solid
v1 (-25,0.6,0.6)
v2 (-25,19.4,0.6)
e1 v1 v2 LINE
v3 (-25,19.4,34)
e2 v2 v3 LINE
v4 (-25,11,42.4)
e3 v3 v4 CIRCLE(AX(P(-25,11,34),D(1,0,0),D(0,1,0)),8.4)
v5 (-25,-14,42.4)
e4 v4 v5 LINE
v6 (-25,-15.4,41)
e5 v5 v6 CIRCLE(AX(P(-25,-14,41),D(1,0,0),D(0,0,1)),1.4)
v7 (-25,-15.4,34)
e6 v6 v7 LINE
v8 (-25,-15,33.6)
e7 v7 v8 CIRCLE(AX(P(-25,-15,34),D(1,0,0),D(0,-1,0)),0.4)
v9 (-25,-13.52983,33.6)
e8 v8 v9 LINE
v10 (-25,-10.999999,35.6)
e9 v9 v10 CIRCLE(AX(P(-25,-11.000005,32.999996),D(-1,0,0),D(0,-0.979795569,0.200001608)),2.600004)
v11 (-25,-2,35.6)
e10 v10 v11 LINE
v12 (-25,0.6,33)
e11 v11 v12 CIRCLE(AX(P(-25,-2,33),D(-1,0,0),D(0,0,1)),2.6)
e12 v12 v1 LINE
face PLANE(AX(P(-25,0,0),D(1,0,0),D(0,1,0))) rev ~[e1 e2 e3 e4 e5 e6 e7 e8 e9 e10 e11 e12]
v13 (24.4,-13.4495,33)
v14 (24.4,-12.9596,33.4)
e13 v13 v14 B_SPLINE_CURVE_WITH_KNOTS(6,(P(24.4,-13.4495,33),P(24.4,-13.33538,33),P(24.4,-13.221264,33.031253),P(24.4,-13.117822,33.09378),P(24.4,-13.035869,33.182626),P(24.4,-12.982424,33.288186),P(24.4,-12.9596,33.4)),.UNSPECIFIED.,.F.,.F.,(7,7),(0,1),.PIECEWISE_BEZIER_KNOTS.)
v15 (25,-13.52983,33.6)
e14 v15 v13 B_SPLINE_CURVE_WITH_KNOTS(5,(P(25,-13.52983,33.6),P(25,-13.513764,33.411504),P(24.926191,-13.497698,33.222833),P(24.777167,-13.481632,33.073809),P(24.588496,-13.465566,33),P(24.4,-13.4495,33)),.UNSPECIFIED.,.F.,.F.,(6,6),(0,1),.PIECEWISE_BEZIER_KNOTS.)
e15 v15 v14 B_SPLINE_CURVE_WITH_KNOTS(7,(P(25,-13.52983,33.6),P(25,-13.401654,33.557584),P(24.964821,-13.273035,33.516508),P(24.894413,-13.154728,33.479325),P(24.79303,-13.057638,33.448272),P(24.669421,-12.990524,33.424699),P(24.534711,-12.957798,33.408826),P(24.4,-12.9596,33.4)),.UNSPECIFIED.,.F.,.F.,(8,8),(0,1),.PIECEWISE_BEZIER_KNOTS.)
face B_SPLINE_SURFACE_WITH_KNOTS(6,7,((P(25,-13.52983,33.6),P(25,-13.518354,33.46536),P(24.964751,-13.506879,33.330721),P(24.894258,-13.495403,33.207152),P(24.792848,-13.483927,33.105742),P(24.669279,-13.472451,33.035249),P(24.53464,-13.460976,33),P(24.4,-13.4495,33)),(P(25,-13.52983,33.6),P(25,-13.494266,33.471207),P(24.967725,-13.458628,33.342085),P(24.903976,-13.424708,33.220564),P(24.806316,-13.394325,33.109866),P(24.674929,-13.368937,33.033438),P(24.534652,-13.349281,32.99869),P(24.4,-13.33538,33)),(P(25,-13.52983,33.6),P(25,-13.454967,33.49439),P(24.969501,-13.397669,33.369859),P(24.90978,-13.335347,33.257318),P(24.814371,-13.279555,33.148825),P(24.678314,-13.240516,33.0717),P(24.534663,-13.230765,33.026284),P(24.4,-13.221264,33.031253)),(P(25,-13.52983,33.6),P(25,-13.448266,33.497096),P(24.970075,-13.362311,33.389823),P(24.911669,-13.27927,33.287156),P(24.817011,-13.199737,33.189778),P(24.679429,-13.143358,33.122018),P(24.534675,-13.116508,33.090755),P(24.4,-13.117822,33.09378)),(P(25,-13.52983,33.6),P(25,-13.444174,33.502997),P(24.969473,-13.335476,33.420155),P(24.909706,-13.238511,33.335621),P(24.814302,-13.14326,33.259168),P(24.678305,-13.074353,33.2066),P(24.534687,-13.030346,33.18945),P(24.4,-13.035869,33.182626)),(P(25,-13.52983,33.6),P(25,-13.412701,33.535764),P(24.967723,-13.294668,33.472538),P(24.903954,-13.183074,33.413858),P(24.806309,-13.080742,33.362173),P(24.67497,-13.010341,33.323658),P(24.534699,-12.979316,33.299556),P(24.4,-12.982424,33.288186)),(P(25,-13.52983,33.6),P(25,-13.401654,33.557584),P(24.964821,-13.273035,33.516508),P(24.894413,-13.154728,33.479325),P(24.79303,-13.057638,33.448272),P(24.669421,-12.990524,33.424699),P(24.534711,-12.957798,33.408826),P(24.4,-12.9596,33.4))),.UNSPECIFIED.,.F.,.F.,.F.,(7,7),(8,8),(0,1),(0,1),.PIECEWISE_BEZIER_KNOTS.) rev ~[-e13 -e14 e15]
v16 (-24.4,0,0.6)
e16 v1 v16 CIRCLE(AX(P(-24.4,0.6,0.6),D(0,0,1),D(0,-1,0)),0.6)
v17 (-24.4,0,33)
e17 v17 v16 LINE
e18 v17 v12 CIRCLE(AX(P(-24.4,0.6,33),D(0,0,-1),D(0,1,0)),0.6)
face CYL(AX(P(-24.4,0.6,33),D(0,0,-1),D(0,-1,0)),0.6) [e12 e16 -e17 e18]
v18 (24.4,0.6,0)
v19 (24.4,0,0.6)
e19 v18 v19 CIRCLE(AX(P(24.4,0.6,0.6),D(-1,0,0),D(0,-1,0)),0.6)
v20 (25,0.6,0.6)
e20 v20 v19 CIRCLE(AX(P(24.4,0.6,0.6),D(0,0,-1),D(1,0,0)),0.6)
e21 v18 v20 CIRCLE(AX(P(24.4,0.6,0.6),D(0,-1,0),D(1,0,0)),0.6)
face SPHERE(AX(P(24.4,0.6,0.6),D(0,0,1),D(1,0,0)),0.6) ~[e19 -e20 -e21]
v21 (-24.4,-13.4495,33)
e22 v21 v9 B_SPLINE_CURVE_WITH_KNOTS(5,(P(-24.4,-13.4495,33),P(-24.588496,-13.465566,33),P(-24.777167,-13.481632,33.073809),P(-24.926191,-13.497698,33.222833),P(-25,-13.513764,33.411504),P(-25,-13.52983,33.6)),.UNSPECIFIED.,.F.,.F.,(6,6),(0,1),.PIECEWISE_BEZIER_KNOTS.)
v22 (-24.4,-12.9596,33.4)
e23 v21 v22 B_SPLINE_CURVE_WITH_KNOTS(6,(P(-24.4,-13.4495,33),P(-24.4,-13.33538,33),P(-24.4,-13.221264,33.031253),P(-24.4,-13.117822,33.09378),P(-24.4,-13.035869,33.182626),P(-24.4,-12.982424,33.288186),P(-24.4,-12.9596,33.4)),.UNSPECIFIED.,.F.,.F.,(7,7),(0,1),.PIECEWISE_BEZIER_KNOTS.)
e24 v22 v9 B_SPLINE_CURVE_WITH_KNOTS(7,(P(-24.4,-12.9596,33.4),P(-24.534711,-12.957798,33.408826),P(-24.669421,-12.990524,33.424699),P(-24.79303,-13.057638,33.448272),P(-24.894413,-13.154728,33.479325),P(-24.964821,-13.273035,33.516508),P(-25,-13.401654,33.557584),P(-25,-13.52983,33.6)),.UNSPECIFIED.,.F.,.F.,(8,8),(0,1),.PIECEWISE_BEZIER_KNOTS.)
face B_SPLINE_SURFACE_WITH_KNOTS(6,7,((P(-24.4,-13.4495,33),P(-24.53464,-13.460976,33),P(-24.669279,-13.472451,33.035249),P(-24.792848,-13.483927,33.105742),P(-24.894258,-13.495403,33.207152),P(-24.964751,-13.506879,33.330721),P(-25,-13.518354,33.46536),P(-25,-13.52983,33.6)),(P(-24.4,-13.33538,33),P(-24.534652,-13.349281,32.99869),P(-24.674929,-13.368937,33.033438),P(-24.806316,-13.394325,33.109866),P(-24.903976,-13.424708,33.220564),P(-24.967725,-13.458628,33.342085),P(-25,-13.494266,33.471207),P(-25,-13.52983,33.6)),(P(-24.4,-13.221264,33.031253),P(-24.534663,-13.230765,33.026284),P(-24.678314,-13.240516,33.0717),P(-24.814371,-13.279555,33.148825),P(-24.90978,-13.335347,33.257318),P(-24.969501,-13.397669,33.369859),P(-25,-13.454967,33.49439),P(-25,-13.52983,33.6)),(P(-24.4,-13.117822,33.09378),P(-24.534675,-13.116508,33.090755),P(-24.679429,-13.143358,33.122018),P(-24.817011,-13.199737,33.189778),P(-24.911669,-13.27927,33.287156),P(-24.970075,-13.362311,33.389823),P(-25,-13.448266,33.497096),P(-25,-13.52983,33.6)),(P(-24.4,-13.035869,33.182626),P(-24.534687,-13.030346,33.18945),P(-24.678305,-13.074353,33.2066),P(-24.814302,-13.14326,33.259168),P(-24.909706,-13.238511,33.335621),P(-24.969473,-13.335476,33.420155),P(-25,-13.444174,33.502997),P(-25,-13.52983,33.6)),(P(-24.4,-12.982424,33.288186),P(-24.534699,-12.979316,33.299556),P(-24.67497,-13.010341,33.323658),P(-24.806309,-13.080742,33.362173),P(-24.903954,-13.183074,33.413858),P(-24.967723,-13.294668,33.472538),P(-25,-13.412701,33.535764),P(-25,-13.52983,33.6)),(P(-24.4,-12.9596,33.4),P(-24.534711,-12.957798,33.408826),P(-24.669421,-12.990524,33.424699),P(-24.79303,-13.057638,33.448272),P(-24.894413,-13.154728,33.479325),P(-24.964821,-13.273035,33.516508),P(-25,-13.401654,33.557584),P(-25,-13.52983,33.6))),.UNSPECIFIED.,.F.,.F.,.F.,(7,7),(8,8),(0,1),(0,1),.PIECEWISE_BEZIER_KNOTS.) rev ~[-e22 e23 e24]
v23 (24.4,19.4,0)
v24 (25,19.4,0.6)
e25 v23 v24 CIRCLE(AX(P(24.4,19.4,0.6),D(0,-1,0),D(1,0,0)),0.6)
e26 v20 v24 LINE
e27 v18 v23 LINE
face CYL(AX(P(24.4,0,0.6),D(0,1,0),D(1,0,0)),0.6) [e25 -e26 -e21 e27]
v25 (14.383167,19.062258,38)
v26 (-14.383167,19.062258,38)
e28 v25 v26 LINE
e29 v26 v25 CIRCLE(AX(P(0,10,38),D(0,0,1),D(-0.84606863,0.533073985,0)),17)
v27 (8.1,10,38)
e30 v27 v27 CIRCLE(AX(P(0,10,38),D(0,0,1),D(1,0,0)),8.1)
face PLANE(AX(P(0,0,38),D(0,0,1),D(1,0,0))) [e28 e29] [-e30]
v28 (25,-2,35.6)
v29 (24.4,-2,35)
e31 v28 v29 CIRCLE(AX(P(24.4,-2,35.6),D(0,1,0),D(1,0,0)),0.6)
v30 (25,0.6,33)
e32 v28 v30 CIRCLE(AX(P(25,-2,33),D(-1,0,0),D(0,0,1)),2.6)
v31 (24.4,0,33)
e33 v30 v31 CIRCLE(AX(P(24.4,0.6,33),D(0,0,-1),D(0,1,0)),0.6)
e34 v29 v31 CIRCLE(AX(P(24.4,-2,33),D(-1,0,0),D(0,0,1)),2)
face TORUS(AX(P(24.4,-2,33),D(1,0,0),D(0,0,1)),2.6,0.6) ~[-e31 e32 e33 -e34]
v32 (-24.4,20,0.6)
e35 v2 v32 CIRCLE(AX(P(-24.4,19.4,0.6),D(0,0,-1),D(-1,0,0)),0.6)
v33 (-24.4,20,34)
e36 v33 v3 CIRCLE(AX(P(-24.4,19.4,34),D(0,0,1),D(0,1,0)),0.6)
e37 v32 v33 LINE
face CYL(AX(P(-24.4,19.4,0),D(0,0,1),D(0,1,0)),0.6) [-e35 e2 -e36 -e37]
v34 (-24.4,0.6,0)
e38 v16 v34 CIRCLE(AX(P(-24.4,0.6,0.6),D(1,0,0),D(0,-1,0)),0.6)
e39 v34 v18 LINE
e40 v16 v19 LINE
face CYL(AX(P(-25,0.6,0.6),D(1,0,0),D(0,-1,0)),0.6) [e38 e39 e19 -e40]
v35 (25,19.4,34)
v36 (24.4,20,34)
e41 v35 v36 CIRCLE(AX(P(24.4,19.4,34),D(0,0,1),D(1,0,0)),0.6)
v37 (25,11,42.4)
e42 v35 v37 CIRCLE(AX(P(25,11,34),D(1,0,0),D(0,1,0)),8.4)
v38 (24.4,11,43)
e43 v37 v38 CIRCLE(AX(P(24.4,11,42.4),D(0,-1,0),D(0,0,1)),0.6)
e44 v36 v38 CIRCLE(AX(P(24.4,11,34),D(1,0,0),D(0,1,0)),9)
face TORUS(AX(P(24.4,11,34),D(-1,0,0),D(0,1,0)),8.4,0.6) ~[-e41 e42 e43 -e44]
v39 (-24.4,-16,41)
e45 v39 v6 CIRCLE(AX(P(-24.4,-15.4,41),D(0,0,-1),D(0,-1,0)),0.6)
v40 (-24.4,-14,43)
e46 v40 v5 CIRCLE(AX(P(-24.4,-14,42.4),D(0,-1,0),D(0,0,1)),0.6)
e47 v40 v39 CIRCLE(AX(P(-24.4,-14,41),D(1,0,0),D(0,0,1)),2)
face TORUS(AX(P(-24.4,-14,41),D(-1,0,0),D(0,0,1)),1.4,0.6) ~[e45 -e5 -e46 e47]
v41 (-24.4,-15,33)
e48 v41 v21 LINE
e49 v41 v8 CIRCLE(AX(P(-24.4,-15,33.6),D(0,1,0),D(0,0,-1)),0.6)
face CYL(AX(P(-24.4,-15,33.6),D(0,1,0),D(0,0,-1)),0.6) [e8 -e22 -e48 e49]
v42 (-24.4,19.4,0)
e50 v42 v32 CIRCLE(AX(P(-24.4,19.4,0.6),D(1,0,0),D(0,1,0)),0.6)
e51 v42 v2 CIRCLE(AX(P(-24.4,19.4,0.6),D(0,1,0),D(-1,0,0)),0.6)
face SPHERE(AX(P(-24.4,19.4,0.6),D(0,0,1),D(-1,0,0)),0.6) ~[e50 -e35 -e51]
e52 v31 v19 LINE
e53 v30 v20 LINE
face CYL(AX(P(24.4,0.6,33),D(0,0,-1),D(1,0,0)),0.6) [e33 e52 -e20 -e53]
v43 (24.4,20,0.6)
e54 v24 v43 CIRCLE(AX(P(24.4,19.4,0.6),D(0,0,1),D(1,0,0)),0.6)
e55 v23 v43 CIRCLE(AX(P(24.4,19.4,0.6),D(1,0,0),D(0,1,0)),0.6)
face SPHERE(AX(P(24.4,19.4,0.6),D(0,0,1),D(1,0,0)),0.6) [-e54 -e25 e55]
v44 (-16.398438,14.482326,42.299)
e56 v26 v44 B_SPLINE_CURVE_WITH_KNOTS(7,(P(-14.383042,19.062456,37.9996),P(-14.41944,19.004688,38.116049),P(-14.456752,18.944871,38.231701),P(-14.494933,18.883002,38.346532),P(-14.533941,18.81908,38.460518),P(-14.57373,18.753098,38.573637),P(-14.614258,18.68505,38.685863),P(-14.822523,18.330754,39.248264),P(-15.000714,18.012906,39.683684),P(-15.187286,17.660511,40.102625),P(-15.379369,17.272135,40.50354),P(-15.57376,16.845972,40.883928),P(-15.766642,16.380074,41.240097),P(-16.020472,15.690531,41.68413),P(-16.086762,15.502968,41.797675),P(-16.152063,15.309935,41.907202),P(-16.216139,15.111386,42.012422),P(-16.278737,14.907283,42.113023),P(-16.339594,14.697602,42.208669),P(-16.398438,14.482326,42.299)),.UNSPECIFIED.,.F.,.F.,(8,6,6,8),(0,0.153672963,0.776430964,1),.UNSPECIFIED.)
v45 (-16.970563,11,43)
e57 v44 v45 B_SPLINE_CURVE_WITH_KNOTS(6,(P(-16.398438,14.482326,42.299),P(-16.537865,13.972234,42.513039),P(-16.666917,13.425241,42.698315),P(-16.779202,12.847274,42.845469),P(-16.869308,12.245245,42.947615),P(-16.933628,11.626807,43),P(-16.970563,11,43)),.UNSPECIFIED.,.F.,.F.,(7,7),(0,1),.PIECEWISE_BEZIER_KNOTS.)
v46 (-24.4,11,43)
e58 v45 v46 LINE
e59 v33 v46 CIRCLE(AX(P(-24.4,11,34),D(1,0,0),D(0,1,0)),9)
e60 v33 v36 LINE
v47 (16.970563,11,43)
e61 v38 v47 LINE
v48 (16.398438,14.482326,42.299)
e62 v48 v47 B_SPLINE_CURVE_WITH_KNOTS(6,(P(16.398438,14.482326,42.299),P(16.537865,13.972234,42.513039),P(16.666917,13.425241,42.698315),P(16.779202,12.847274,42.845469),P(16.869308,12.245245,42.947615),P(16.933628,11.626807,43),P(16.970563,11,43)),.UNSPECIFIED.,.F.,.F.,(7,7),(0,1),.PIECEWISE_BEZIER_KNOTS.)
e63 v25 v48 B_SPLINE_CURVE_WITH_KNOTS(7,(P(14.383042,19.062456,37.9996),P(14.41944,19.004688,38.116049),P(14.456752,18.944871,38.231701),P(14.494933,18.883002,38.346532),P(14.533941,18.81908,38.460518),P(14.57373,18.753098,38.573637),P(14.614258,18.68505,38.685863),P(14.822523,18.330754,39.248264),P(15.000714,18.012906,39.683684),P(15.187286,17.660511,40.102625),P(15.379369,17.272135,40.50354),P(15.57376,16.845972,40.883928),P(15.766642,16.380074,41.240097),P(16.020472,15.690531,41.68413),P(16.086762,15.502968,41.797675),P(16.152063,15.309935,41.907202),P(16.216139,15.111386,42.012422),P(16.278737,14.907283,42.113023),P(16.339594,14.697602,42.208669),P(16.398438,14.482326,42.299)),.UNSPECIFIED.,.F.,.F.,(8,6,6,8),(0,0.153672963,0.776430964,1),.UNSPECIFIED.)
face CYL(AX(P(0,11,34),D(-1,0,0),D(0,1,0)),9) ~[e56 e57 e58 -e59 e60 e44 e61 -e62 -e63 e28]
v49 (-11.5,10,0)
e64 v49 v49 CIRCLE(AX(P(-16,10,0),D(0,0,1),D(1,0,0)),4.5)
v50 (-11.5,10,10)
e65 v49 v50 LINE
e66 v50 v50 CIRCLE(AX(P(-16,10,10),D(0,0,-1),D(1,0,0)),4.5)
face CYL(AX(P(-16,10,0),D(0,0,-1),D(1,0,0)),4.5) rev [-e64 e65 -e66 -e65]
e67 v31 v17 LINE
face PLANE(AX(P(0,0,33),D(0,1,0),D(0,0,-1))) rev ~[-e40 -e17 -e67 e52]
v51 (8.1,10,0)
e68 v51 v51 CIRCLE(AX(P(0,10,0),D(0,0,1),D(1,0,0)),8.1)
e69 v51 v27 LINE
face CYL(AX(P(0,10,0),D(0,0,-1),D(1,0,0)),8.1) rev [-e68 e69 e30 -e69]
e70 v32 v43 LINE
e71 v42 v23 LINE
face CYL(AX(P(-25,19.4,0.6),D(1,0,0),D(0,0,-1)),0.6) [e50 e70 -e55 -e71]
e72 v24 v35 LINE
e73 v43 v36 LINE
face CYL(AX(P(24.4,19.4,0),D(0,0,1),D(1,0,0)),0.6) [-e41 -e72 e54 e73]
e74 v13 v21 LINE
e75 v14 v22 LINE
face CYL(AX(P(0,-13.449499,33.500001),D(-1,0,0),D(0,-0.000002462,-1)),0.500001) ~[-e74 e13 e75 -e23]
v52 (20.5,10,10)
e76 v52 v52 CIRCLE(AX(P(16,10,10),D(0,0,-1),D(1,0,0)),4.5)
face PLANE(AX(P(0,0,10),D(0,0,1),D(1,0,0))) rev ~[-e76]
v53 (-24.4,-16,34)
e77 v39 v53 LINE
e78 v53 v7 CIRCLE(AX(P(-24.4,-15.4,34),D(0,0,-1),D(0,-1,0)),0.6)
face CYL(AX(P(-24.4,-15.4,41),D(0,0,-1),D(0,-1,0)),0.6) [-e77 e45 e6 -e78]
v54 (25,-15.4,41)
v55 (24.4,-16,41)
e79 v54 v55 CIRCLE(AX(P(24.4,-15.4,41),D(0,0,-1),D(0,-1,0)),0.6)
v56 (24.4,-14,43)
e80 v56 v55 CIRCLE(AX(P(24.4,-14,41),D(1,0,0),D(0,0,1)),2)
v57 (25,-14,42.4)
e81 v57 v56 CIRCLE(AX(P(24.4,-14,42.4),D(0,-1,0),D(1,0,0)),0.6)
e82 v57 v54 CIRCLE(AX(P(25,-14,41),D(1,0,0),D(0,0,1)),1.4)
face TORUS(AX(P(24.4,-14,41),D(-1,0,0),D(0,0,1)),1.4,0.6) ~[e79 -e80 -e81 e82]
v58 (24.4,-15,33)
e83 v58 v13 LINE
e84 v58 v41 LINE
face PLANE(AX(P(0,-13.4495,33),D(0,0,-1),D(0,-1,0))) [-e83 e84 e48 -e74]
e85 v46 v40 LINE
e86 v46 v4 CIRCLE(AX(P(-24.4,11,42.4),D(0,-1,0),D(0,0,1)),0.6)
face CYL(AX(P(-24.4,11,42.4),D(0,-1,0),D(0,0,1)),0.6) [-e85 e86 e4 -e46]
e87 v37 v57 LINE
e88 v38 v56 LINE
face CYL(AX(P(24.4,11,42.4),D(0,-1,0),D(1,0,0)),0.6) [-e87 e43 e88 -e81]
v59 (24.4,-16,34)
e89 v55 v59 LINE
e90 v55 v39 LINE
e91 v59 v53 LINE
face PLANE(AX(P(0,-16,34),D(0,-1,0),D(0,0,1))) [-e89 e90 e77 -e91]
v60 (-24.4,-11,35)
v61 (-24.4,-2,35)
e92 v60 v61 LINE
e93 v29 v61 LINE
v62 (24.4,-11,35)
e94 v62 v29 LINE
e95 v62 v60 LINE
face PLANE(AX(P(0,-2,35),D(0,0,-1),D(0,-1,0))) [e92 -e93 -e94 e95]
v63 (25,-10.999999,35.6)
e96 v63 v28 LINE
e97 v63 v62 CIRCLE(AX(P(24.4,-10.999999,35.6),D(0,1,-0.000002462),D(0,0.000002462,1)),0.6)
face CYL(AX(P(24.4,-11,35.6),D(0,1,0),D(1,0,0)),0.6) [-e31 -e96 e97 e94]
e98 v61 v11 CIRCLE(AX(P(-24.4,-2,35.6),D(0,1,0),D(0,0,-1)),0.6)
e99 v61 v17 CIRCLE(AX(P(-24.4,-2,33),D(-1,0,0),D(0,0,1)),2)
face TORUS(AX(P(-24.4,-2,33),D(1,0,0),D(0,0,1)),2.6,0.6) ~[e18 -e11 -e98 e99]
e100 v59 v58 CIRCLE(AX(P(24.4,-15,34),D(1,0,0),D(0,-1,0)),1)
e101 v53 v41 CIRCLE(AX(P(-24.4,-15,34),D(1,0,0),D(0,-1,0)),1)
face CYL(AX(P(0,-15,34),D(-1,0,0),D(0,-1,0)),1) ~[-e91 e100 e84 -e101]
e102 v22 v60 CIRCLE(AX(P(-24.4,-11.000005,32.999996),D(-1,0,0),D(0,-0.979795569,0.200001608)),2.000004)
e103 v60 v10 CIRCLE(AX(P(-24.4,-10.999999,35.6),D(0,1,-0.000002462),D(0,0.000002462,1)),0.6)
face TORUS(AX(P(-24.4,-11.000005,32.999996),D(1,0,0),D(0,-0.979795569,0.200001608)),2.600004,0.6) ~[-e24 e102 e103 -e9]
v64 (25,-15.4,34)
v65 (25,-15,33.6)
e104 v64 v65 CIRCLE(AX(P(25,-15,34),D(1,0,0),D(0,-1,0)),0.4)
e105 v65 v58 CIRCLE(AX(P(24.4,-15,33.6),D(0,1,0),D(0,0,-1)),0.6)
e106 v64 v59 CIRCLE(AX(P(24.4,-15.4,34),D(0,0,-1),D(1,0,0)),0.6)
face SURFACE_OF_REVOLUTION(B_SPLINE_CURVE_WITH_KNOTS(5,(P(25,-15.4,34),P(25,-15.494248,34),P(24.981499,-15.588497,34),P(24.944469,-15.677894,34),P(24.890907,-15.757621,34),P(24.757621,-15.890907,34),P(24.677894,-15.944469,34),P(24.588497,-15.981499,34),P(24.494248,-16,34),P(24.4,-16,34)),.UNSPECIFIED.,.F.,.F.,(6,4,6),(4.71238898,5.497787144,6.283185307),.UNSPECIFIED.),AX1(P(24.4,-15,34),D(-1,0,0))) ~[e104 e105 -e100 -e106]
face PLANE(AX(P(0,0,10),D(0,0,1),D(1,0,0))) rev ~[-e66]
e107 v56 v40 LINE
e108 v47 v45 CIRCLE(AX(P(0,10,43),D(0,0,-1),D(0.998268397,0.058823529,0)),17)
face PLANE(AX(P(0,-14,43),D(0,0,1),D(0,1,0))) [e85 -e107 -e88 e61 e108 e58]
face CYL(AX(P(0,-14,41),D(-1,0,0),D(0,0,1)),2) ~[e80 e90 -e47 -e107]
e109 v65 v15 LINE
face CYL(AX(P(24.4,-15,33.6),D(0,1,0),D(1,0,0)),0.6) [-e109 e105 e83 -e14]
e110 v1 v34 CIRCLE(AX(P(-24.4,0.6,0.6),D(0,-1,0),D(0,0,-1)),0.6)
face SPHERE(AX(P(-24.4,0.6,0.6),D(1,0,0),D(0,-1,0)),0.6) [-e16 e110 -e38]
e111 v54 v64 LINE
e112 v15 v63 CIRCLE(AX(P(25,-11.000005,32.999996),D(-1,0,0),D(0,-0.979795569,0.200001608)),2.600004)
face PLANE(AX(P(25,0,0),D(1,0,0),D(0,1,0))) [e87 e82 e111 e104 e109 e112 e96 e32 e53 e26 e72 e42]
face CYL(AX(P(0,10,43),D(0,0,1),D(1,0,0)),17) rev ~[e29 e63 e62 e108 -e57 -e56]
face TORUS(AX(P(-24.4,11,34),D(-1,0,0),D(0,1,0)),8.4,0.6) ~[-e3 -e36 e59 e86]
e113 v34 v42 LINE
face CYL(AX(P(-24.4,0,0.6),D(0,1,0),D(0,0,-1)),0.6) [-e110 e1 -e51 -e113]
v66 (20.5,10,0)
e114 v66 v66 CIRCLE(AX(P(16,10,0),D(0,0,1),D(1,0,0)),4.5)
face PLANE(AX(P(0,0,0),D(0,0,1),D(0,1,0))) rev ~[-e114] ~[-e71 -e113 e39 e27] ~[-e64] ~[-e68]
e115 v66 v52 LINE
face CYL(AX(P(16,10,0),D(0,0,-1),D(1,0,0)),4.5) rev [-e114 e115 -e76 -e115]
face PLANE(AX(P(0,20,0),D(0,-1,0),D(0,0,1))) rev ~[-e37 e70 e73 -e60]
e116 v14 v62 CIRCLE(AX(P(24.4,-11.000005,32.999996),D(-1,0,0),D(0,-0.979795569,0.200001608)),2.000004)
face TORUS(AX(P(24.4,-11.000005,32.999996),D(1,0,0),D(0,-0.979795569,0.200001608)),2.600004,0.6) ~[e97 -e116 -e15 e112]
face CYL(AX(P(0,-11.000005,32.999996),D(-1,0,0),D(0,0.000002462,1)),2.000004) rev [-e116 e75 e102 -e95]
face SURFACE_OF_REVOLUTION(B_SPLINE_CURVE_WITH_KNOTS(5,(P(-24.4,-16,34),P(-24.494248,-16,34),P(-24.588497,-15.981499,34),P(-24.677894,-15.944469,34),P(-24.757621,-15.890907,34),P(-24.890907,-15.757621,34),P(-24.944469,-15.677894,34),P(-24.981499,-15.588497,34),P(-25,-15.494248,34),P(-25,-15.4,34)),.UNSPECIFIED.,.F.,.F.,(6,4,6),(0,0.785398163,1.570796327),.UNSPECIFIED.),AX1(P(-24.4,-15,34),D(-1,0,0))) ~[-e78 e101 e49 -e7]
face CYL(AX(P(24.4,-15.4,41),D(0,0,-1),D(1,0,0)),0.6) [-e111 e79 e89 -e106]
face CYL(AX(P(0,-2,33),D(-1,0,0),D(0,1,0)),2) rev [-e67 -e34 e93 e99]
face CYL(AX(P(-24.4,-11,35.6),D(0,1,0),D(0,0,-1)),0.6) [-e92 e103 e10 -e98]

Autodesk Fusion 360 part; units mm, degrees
sketch "PhoneSupportTop" plane through (0, 0, 0) normal (1, 0, 0) x (0, 1, 0)
  line L0 (0, 0) -> (20, 0)
  line L1 (0, 33) -> (0, 0)
  line L2 (-2, 35) -> (-11, 35)
  line L3 (-13.4495, 33) -> (-15, 33)
  line L4 (-16, 34) -> (-16, 41)
  arc A0 (-11, 35) -> (-12.9596, 33.4) centre (-11, 33) ccw
  arc A1 (0, 33) -> (-2, 35) centre (-2, 33) ccw
  line L5 (-14, 43) -> (11, 43)
  line L6 (20, 0) -> (20, 34)
  arc A2 (20, 34) -> (11, 43) centre (11, 34) ccw
  arc A3 (-14, 43) -> (-16, 41) centre (-14, 41) ccw
  arc A4 (-13.4495, 33) -> (-12.9596, 33.4) centre (-13.4495, 33.5) ccw
  arc A5 (-16, 34) -> (-15, 33) centre (-15, 34) ccw
  point P0 (-13, 33)
  point P1 (-16, 33)
  point P2 (-16, 43)
  dimension "d3" = 20
  dimension "d7" = 4
  dimension "d8" = 3
  dimension "d10" = 2
  dimension "d11" = 9
  dimension "d13" = 34
  dimension "d14" = 27
  dimension "d15" = 10
  dimension "d16" = 9
  dimension "d17" = 2
  dimension "d18" = 0.5
  dimension "d19" = 1
extrude "Extrude1" add sketch "PhoneSupportTop" along normal mid plane 50
sketch "Sketch2" plane through (0, 0, 0) normal (0, 0, 1) x (1, 0, 0)
  line L0 (25, 20) -> (-25, 20) construction
  line L1 (-25, 20) -> (-25, 0) construction
  line L2 (-25, 0) -> (25, 0) construction
  line L3 (25, 0) -> (25, 20) construction
  line L4 (25, 10) -> (-25, 10) construction
  circle A0 centre (0, 10) radius 8.1
  circle A1 centre (16, 10) radius 4.5
  circle A2 centre (-16, 10) radius 4.5
  circle A3 centre (0, 10) radius 17
  dimension "d23" = 16.2
  dimension "d24" = 9
  dimension "d25" = 9
  dimension "d27" = 9
  dimension "d28" = 9
  dimension "d40" = 34
extrude "Extrude2" cut sketch "Sketch2" along normal blind 10 contours A1 A3 | A1 A3 | A2 A3 | A2 A3
extrude "Extrude3" cut sketch "Sketch2" along normal through all contours A0
extrude "Extrude4" cut sketch "Sketch2" against normal blind 5 from surface at 43 contours A1 A2 A3
fillet "Fillet1" radius 0.6 28 edges at (25, 20, 17) (25, 17.364, 40.364) (25, -1.5, 43) (25, -15.4142, 42.4142) (25, -16, 37.5) (25, -15.7071, 33.2929) (25, -14.2247, 33) (25, -13.1333, 33.1127) (25, -12.2649, 34.5492) (25, -6.5, 35) (25, -0.5858, 34.4142) (25, 0, 16.5) (25, 10, 0) (0, 0, 0) (-25, 0, 16.5) (-25, -0.5858, 34.4142) (-25, -6.5, 35) (-25, -12.2649, 34.5492) (-25, -13.1333, 33.1127) (-25, -14.2247, 33) (-25, -15.7071, 33.2929) (-25, -16, 37.5) (-25, -15.4142, 42.4142) (-25, -1.5, 43) (-25, 17.364, 40.364) (-25, 20, 17) (-25, 10, 0) (0, 20, 0)
extrude "Extrude5" cut sketch "Sketch2" against normal blind 5 from surface at 43 contours A1 A3 | A1 A2 A3 | A2 A3 picked at (15.2408, 11.0328) picked at (-15.34, 11.5418)
equation "PhoneSupportThickness = 50 mm"
equation "d21 = PhoneSupportThickness / 2"
equation "d23 = 16 mm + 2 * Tolerance"
equation "Tolerance = 0.1 mm"
